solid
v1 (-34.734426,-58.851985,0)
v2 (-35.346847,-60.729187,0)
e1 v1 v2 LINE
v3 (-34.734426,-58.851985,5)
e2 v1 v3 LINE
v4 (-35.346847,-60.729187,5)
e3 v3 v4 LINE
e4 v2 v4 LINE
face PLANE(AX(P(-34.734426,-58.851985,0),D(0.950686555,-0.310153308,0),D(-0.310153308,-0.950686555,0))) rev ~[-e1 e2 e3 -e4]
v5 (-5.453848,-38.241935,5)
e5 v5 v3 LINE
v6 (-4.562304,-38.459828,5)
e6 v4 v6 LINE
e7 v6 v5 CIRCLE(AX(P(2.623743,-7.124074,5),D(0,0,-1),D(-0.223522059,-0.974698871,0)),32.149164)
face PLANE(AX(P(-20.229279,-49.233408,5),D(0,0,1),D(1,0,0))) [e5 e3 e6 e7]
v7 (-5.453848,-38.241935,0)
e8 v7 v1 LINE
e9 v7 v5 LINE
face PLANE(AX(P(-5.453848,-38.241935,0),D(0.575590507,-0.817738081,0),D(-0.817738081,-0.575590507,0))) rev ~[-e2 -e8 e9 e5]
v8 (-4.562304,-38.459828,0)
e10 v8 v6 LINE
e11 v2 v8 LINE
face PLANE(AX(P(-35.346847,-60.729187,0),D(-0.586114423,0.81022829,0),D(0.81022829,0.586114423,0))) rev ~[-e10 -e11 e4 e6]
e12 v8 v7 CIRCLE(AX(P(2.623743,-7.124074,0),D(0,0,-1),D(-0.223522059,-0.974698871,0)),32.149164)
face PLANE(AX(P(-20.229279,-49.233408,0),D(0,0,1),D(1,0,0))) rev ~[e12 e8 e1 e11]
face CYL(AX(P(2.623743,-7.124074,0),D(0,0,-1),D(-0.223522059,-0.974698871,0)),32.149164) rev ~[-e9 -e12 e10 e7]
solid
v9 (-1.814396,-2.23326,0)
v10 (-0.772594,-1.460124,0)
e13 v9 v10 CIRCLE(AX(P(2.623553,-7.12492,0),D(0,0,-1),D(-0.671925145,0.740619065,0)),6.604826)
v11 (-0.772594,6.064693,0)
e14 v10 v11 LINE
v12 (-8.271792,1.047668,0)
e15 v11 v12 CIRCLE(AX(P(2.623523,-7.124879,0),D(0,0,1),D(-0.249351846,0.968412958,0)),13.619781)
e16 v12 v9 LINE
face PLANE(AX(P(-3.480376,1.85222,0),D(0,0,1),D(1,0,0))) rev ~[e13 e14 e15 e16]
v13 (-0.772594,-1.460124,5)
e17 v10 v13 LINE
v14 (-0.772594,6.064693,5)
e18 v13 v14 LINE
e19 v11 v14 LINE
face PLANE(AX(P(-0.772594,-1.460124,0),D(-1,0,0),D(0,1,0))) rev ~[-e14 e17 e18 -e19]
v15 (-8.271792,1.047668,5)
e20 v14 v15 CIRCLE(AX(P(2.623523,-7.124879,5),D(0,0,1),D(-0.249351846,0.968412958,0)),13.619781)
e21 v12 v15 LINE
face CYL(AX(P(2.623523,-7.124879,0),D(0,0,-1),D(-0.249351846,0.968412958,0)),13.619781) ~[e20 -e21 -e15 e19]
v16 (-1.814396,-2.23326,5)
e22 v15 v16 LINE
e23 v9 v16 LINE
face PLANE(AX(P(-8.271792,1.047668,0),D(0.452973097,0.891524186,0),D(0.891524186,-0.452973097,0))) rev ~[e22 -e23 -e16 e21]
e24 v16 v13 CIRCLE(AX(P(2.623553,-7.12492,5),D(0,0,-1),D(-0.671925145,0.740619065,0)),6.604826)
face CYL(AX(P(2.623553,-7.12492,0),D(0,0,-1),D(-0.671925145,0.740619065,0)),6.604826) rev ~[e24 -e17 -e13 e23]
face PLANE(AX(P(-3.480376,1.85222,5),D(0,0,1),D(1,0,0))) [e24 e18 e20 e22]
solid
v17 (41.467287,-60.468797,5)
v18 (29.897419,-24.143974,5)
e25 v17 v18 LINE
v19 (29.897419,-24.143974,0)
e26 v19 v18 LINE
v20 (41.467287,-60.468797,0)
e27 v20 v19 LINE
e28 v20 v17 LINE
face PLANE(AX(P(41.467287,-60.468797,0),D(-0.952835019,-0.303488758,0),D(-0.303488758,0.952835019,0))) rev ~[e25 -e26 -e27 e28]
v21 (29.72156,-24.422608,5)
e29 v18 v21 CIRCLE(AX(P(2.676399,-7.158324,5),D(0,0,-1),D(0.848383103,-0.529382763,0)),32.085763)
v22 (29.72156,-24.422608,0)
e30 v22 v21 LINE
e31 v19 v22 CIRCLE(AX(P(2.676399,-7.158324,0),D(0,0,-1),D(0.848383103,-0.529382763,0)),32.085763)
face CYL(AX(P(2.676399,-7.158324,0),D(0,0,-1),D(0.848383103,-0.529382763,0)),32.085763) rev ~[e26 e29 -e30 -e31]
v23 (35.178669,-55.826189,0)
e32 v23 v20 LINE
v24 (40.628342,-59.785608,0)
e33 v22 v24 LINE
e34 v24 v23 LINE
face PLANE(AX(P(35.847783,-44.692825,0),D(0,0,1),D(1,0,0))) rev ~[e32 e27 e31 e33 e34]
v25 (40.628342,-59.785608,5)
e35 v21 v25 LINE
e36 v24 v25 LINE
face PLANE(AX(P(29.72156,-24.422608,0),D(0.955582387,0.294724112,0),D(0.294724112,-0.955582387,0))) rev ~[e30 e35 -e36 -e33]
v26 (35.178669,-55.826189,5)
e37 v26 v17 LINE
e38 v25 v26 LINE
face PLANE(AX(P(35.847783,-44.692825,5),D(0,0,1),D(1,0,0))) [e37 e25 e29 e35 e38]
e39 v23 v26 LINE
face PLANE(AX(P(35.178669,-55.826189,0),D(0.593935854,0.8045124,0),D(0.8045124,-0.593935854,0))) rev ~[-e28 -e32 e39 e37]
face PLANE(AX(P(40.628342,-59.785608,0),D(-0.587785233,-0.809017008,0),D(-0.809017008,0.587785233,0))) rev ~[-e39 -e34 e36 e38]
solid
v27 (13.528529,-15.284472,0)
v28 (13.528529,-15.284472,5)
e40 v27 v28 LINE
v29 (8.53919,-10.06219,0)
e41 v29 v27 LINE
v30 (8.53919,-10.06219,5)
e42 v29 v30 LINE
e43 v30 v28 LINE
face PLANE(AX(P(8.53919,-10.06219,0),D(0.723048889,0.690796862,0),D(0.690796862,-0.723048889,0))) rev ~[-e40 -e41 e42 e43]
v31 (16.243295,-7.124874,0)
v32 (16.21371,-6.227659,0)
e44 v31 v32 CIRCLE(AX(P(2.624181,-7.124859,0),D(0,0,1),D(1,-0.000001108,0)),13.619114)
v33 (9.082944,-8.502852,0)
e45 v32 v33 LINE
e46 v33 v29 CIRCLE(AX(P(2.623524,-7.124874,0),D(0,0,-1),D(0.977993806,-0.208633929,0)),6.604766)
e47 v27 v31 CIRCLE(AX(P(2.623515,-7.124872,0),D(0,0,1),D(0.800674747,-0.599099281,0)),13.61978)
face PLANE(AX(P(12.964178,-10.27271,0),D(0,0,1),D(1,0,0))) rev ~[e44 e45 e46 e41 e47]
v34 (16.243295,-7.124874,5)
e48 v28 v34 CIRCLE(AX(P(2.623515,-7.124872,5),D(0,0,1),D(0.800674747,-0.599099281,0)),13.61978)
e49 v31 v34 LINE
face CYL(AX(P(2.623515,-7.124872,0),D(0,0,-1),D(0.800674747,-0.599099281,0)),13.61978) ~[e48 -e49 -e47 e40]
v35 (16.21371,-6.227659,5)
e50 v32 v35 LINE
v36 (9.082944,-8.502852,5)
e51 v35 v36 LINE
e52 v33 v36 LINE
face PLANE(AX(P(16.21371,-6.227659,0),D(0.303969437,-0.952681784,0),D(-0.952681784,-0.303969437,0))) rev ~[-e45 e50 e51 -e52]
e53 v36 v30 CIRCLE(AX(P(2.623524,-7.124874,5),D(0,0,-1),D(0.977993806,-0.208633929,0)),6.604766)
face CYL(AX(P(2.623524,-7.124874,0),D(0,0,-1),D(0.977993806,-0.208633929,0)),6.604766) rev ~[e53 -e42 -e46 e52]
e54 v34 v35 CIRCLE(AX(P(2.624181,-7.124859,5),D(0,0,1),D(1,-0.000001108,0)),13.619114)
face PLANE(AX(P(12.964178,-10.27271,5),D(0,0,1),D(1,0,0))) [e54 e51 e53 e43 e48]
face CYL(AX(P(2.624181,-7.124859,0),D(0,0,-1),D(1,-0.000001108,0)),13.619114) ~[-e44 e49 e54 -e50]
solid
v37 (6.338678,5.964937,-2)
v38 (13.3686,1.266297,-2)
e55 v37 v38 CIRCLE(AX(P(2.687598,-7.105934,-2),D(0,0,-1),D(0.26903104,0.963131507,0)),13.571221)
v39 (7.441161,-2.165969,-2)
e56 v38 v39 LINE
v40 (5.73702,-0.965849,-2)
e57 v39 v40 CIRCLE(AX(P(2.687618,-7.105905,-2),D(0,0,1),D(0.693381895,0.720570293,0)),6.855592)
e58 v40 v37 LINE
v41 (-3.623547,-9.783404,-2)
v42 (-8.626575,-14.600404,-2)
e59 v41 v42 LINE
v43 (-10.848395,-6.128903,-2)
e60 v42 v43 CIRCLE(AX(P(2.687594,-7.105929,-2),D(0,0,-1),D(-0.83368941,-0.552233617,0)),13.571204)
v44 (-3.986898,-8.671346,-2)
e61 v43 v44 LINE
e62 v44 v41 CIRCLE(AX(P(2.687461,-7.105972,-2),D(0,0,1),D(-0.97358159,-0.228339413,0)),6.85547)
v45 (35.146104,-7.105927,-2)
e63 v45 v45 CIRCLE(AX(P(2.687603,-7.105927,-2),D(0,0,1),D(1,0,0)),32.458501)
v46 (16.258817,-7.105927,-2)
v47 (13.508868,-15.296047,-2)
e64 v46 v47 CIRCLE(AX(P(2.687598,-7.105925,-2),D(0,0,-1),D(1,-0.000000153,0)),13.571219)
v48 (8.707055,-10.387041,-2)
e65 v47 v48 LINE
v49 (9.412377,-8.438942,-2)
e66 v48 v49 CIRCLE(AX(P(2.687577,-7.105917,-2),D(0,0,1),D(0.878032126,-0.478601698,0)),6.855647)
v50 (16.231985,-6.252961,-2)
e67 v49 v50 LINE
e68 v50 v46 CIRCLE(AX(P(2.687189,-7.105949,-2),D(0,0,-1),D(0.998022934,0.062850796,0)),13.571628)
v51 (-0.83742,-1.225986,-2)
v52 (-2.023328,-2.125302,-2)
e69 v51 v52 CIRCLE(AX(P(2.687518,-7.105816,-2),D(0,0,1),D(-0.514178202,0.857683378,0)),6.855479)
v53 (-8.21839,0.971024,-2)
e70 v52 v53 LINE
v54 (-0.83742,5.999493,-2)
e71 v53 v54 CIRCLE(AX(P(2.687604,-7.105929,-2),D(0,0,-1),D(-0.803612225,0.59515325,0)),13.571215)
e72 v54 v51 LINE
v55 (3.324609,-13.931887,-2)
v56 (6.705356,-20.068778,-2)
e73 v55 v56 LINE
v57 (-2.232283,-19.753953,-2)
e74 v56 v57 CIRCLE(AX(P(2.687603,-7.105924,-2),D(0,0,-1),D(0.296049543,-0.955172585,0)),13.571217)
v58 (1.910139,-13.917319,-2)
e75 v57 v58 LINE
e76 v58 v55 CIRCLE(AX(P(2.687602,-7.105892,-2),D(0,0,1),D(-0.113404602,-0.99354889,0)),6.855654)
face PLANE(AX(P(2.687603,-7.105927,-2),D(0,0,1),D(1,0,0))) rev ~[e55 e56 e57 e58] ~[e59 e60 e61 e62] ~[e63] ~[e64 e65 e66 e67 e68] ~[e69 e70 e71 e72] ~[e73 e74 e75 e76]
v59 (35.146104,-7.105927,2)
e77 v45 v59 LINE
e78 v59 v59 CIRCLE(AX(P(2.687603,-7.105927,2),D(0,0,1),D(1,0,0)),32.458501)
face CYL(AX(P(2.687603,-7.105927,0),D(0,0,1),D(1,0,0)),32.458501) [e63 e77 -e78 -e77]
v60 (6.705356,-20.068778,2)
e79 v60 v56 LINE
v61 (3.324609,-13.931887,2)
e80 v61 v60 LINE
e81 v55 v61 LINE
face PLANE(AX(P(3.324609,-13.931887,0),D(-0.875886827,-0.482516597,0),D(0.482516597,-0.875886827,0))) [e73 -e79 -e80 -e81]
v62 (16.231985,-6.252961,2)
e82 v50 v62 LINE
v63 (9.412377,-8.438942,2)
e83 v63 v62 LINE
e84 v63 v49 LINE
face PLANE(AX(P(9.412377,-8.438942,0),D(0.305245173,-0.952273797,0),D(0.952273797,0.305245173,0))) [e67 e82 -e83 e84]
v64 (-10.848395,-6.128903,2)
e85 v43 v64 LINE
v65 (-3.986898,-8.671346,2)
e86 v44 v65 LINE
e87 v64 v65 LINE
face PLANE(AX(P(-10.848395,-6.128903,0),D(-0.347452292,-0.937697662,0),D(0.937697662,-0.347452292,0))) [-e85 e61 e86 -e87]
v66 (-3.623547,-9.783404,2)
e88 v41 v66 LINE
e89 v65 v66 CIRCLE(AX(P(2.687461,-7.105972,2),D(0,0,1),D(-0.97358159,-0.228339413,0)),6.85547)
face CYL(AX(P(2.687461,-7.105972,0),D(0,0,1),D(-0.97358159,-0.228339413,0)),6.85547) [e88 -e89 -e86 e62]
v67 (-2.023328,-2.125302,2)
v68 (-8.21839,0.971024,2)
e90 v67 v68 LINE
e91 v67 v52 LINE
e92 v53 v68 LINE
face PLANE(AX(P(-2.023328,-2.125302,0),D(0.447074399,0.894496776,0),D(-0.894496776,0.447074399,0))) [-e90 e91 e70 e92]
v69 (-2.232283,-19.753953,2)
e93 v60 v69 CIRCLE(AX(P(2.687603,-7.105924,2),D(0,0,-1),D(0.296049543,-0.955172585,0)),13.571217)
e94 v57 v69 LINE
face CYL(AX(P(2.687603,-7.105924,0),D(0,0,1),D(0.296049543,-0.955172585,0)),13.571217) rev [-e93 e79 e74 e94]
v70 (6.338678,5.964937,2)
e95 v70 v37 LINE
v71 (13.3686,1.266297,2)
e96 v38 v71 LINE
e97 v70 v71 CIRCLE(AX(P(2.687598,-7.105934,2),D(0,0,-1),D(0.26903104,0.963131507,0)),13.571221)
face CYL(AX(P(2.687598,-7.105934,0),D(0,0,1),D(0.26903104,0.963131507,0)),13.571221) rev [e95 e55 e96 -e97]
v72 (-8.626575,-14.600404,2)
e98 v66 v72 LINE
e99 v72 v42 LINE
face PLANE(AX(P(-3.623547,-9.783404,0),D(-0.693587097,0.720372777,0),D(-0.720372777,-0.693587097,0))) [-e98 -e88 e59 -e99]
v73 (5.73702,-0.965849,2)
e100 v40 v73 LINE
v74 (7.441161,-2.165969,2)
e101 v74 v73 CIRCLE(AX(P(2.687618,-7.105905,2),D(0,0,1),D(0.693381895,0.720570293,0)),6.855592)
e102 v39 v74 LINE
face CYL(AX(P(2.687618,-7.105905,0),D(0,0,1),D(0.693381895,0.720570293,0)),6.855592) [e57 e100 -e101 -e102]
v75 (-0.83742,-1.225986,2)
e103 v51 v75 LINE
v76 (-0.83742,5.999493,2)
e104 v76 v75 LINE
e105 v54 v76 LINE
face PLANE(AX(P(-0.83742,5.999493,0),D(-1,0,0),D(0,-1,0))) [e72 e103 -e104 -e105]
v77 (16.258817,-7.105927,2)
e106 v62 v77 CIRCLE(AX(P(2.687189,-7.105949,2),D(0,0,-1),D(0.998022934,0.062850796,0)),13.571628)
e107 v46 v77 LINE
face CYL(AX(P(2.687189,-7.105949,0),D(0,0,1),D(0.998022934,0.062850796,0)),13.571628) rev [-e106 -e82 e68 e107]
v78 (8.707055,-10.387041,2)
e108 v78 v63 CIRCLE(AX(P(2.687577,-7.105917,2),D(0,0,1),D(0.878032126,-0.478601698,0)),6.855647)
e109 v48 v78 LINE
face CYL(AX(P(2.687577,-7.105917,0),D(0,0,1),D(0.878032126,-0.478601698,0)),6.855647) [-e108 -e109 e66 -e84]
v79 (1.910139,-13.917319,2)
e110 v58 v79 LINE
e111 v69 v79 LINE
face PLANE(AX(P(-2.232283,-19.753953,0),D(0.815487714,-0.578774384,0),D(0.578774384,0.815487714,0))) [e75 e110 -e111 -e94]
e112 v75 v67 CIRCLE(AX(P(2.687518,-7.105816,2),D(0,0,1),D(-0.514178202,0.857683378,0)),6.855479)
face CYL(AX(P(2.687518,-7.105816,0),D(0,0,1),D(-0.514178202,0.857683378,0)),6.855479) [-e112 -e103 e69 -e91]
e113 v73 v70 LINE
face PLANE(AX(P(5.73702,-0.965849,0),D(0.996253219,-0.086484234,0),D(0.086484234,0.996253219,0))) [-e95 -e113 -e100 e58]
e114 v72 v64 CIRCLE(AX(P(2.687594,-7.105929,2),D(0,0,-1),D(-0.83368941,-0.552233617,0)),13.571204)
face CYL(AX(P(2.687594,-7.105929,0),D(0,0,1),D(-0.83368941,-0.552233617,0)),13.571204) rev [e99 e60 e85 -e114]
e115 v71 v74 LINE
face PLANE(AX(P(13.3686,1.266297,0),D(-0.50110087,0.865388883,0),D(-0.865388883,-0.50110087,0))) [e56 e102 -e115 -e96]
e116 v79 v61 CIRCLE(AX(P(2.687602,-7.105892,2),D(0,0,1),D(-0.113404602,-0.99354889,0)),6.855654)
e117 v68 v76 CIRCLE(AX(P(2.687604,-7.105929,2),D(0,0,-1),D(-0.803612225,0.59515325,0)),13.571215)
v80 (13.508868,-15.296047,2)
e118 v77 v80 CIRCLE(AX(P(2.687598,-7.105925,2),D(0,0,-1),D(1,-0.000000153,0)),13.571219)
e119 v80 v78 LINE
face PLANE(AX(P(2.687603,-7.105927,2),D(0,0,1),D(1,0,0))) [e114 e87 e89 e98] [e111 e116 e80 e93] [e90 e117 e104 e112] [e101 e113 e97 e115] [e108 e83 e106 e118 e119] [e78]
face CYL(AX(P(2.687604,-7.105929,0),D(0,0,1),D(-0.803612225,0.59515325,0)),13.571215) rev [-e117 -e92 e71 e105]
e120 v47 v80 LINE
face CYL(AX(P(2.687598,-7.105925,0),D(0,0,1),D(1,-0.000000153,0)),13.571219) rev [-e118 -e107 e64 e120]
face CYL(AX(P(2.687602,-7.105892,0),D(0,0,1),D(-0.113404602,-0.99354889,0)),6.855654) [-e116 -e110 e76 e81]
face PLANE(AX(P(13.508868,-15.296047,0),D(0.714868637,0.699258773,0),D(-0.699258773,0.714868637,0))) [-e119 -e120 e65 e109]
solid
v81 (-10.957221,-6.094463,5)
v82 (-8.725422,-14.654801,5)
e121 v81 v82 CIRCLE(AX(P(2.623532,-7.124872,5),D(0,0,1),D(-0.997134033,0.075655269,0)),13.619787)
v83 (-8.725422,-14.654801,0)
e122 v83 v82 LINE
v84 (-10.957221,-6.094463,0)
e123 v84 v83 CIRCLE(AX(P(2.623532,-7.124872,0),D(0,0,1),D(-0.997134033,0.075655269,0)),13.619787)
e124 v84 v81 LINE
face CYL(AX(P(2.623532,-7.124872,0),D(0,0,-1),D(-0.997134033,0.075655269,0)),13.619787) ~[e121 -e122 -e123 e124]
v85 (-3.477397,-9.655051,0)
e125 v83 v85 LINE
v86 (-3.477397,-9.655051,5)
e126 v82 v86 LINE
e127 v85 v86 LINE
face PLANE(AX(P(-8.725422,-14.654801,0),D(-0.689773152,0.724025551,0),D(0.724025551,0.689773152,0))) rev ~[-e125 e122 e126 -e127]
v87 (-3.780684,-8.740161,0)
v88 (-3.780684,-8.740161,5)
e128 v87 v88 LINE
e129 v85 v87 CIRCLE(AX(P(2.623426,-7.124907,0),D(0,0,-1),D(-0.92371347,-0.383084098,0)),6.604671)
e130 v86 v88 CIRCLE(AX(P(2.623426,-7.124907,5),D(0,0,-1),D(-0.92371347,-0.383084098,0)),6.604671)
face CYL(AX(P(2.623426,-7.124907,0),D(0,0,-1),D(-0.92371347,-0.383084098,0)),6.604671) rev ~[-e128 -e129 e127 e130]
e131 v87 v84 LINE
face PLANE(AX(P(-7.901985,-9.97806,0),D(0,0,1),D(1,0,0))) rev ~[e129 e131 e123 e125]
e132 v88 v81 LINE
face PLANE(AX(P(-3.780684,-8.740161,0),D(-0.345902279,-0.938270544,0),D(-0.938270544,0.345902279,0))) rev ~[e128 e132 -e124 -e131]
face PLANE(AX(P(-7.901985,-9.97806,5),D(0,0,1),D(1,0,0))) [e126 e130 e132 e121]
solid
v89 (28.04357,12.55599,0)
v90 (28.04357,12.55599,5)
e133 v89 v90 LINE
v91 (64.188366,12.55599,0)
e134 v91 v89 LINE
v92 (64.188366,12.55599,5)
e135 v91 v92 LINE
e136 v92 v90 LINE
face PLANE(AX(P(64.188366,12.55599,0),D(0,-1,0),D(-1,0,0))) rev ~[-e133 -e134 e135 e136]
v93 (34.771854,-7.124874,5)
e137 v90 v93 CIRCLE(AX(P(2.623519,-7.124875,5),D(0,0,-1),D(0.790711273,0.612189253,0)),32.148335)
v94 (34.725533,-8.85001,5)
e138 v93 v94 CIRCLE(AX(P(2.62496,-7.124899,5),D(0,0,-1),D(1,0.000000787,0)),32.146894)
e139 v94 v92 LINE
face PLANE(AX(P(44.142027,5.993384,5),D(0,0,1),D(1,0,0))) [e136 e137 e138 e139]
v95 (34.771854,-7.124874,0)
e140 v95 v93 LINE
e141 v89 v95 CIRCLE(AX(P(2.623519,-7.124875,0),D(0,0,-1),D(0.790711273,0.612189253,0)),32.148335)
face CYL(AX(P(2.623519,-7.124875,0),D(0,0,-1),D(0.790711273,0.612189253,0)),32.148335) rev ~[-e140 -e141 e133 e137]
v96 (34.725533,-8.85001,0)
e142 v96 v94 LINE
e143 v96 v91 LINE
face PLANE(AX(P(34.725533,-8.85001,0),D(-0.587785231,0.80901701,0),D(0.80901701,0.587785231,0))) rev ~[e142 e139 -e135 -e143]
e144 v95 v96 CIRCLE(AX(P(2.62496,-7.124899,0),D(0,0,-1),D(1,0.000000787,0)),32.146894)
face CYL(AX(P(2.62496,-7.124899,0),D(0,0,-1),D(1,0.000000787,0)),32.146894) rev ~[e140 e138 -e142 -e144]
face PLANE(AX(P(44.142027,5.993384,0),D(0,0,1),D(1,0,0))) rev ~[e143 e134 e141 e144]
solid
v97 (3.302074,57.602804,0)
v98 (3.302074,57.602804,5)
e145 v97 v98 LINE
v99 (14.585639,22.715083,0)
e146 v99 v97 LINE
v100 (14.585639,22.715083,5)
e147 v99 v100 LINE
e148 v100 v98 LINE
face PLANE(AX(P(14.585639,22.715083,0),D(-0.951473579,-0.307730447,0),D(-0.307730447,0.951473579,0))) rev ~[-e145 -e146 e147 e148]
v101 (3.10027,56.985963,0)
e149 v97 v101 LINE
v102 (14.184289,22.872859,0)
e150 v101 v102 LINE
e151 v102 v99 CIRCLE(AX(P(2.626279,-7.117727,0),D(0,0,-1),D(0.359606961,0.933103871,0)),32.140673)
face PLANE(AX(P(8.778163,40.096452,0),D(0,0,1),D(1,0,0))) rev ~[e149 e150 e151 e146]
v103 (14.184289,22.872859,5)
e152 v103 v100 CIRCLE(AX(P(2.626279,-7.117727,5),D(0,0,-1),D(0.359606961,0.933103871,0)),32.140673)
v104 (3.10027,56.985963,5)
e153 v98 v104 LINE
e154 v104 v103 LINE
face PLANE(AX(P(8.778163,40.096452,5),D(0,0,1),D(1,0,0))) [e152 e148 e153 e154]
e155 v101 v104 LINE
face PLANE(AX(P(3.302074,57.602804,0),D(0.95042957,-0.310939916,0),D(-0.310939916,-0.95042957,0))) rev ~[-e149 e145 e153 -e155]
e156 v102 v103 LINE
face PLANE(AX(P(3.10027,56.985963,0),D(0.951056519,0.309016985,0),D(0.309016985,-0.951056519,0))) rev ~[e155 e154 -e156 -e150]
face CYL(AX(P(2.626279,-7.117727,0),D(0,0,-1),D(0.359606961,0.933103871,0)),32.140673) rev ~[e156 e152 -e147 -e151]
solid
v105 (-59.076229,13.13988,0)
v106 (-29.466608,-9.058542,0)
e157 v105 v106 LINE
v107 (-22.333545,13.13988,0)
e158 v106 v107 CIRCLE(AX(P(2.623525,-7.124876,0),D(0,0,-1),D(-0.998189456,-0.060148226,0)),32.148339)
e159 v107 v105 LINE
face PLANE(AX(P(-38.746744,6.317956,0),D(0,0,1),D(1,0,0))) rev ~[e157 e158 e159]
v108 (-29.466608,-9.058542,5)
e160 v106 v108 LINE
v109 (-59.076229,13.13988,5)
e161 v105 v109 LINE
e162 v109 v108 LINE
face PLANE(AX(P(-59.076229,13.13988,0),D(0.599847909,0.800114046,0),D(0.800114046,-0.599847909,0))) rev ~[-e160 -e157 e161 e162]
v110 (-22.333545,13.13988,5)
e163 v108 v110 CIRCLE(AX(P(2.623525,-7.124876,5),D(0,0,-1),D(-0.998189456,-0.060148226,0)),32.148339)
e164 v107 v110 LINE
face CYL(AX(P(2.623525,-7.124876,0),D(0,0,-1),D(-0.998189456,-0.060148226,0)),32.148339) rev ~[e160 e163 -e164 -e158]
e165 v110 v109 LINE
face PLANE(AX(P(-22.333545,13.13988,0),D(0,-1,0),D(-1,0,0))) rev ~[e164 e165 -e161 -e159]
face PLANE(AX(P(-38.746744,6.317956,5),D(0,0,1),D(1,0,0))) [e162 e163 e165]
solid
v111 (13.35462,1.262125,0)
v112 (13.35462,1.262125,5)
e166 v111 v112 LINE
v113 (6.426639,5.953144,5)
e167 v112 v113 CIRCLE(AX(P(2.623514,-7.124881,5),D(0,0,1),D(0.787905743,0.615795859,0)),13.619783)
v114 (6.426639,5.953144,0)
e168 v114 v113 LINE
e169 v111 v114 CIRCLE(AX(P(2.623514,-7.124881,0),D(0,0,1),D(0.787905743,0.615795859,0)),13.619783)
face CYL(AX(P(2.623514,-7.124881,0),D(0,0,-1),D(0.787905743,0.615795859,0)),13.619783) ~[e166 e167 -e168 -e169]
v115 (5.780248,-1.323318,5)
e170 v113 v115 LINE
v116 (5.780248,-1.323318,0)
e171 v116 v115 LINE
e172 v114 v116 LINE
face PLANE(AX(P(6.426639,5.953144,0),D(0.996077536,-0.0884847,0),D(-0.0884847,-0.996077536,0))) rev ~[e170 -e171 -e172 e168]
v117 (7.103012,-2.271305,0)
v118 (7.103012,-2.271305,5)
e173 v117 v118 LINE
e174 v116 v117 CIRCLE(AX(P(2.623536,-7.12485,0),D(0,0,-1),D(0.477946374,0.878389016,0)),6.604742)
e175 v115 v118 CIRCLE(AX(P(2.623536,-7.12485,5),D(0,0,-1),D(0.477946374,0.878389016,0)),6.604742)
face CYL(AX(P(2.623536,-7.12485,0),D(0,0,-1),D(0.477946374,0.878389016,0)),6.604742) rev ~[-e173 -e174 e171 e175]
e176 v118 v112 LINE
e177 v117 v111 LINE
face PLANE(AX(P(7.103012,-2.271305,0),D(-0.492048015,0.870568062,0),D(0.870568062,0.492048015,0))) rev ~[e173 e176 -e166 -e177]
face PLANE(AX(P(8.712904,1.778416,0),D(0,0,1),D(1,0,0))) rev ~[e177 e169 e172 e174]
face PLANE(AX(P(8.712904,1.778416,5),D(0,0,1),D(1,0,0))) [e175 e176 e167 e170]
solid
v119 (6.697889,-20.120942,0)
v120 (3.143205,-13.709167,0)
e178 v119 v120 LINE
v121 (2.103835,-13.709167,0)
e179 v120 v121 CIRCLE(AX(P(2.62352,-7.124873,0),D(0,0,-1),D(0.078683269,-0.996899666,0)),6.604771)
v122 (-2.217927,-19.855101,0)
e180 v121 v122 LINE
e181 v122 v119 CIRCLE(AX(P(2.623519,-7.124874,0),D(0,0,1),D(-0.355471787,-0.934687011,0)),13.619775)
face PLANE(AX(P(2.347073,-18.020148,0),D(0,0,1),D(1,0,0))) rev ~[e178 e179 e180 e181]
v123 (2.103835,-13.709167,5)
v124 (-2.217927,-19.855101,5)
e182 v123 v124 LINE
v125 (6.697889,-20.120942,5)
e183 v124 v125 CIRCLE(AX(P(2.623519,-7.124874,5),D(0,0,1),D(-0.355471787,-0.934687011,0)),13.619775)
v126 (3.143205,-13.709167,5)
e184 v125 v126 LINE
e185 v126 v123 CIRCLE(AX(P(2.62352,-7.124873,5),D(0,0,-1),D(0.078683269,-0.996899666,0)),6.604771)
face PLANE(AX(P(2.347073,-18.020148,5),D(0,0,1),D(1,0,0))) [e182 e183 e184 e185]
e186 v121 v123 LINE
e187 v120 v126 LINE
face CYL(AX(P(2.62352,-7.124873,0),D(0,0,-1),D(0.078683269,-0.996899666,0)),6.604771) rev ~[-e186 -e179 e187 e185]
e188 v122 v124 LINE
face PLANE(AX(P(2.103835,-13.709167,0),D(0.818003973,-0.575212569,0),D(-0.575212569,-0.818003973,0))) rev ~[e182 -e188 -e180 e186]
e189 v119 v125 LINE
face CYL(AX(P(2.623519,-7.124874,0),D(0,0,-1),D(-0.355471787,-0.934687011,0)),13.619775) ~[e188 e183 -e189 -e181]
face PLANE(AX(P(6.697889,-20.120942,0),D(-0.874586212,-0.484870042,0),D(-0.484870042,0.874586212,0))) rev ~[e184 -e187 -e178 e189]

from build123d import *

# Parameters (mm, degrees)
F1_DEPTH = 5
F2_R     = 32.458501
F3_DEPTH = 2


with BuildPart() as f1:
    # F0 (on Top) → F1 (new body)
    with BuildSketch(Plane.XY):
        with BuildLine():
            Line((3.10027, 56.985963), (14.184289, 22.872859))
            ThreePointArc((14.184289, 22.872859), (14.385229, 22.794644), (14.585639, 22.715083))
            Line((14.585639, 22.715083), (3.302074, 57.602804))
            Line((3.302074, 57.602804), (3.10027, 56.985963))
        make_face()
        with BuildLine():
            Line((-22.333545, 13.13988), (-59.076229, 13.13988))
            Line((-59.076229, 13.13988), (-29.466608, -9.058542))
            ThreePointArc((-29.466608, -9.058542), (-27.983473, 2.710131), (-22.333545, 13.13988))
        make_face()
        with BuildLine():
            Line((64.188366, 12.55599), (28.04357, 12.55599))
            ThreePointArc((28.04357, 12.55599), (33.043313, 3.27472), (34.771854, -7.124874))
            ThreePointArc((34.771854, -7.124874), (34.760272, -7.987753), (34.725533, -8.85001))
            Line((34.725533, -8.85001), (64.188366, 12.55599))
        make_face()
        with BuildLine():
            ThreePointArc((-4.562304, -38.459828), (-5.008854, -38.354063), (-5.453848, -38.241935))
            Line((-5.453848, -38.241935), (-34.734426, -58.851985))
            Line((-34.734426, -58.851985), (-35.346847, -60.729187))
            Line((-35.346847, -60.729187), (-4.562304, -38.459828))
        make_face()
        with BuildLine():
            Line((40.628342, -59.785608), (35.178669, -55.826189))
            Line((35.178669, -55.826189), (41.467287, -60.468797))
            Line((41.467287, -60.468797), (29.897419, -24.143974))
            ThreePointArc((29.897419, -24.143974), (29.809847, -24.283517), (29.72156, -24.422608))
            Line((29.72156, -24.422608), (40.628342, -59.785608))
        make_face()
        with BuildLine():
            Line((7.103012, -2.271305), (13.35462, 1.262125))
            ThreePointArc((13.35462, 1.262125), (10.259769, 4.152801), (6.426639, 5.953144))
            Line((6.426639, 5.953144), (5.780248, -1.323318))
            ThreePointArc((5.780248, -1.323318), (6.470939, -1.756415), (7.103012, -2.271305))
        make_face()
        with BuildLine():
            Line((-0.772594, -1.460124), (-0.772594, 6.064693))
            ThreePointArc((-0.772594, 6.064693), (-4.949712, 4.195215), (-8.271792, 1.047668))
            Line((-8.271792, 1.047668), (-1.814396, -2.23326))
            ThreePointArc((-1.814396, -2.23326), (-1.312524, -1.821051), (-0.772594, -1.460124))
        make_face()
        with BuildLine():
            ThreePointArc((-10.957221, -6.094463), (-10.55571, -10.560883), (-8.725422, -14.654801))
            Line((-8.725422, -14.654801), (-3.477397, -9.655051))
            ThreePointArc((-3.477397, -9.655051), (-3.645752, -9.203146), (-3.780684, -8.740161))
            Line((-3.780684, -8.740161), (-10.957221, -6.094463))
        make_face()
        with BuildLine():
            ThreePointArc((-2.217927, -19.855101), (2.217602, -20.738599), (6.697889, -20.120942))
            Line((6.697889, -20.120942), (3.143205, -13.709167))
            ThreePointArc((3.143205, -13.709167), (2.62352, -13.729644), (2.103835, -13.709167))
            Line((2.103835, -13.709167), (-2.217927, -19.855101))
        make_face()
        with BuildLine():
            ThreePointArc((13.528529, -15.284472), (15.546794, -11.424554), (16.243295, -7.124874))
            ThreePointArc((16.243295, -7.124874), (16.235897, -6.676023), (16.21371, -6.227659))
            Line((16.21371, -6.227659), (9.082944, -8.502852))
            ThreePointArc((9.082944, -8.502852), (8.859995, -9.299583), (8.53919, -10.06219))
            Line((8.53919, -10.06219), (13.528529, -15.284472))
        make_face()
    extrude(amount=F1_DEPTH)


with BuildPart() as f3:
    # F2 (on Top) → F3 (new body, symmetric)
    with BuildSketch(Plane.XY):
        with Locations((2.687603, -7.105927)):
            Circle(F2_R)
        with BuildLine():
            ThreePointArc((6.338678, 5.964937), (10.228914, 4.177089), (13.3686, 1.266297))
            ThreePointArc((13.3686, 1.266297), (15.37035, -2.27625), (16.231985, -6.252961))
            ThreePointArc((16.231985, -6.252961), (16.252107, -6.679233), (16.258817, -7.105927))
            ThreePointArc((16.258817, -7.105927), (15.552974, -11.425657), (13.508868, -15.296047))
            ThreePointArc((13.508868, -15.296047), (10.481437, -18.216012), (6.705356, -20.068778))
            ThreePointArc((6.705356, -20.068778), (2.209859, -20.668729), (-2.232283, -19.753953))
            ThreePointArc((-2.232283, -19.753953), (-5.828615, -17.672471), (-8.626575, -14.600404))
            ThreePointArc((-8.626575, -14.600404), (-10.439636, -10.548807), (-10.848395, -6.128903))
            ThreePointArc((-10.848395, -6.128903), (-10.03855, -2.391815), (-8.21839, 0.971024))
            ThreePointArc((-8.21839, 0.971024), (-4.9534, 4.109816), (-0.83742, 5.999493))
            ThreePointArc((-0.83742, 5.999493), (2.752954, 6.465129), (6.338678, 5.964937))
        make_face(mode=Mode.SUBTRACT)
        with BuildLine():
            ThreePointArc((-3.986898, -8.671346), (-3.878955, -5.136204), (-2.023328, -2.125302))
            Line((-2.023328, -2.125302), (-8.21839, 0.971024))
            ThreePointArc((-8.21839, 0.971024), (-10.03855, -2.391815), (-10.848395, -6.128903))
            Line((-10.848395, -6.128903), (-3.986898, -8.671346))
        make_face()
        with BuildLine():
            ThreePointArc((-0.83742, -1.225986), (2.416553, -0.255669), (5.73702, -0.965849))
            Line((5.73702, -0.965849), (6.338678, 5.964937))
            ThreePointArc((6.338678, 5.964937), (2.752954, 6.465129), (-0.83742, 5.999493))
            Line((-0.83742, 5.999493), (-0.83742, -1.225986))
        make_face()
        with BuildLine():
            ThreePointArc((7.441161, -2.165969), (8.995855, -4.421628), (9.543222, -7.105927))
            ThreePointArc((9.543222, -7.105927), (9.510432, -7.775638), (9.412377, -8.438942))
            Line((9.412377, -8.438942), (16.231985, -6.252961))
            ThreePointArc((16.231985, -6.252961), (15.37035, -2.27625), (13.3686, 1.266297))
            Line((13.3686, 1.266297), (7.441161, -2.165969))
        make_face()
        with BuildLine():
            ThreePointArc((9.412377, -8.438942), (9.510432, -7.775638), (9.543222, -7.105927))
            ThreePointArc((9.543222, -7.105927), (8.995855, -4.421628), (7.441161, -2.165969))
            ThreePointArc((7.441161, -2.165969), (6.634966, -1.500766), (5.73702, -0.965849))
            ThreePointArc((5.73702, -0.965849), (2.416553, -0.255669), (-0.83742, -1.225986))
            ThreePointArc((-0.83742, -1.225986), (-1.454852, -1.643366), (-2.023328, -2.125302))
            ThreePointArc((-2.023328, -2.125302), (-3.878955, -5.136204), (-3.986898, -8.671346))
            ThreePointArc((-3.986898, -8.671346), (-3.828988, -9.23514), (-3.623547, -9.783404))
            ThreePointArc((-3.623547, -9.783404), (-1.415375, -12.598201), (1.910139, -13.917319))
            ThreePointArc((1.910139, -13.917319), (2.616997, -13.961182), (3.324609, -13.931887))
            ThreePointArc((3.324609, -13.931887), (6.458358, -12.831389), (8.707055, -10.387041))
            ThreePointArc((8.707055, -10.387041), (9.133733, -9.43979), (9.412377, -8.438942))
        make_face()
        with BuildLine():
            Line((13.508868, -15.296047), (8.707055, -10.387041))
            ThreePointArc((8.707055, -10.387041), (6.458358, -12.831389), (3.324609, -13.931887))
            Line((3.324609, -13.931887), (6.705356, -20.068778))
            ThreePointArc((6.705356, -20.068778), (10.481437, -18.216012), (13.508868, -15.296047))
        make_face()
        with BuildLine():
            Line((-2.232283, -19.753953), (1.910139, -13.917319))
            ThreePointArc((1.910139, -13.917319), (-1.415375, -12.598201), (-3.623547, -9.783404))
            Line((-3.623547, -9.783404), (-8.626575, -14.600404))
            ThreePointArc((-8.626575, -14.600404), (-5.828615, -17.672471), (-2.232283, -19.753953))
        make_face()
    extrude(amount=F3_DEPTH, both=True)


solid = Compound([f1.part, f3.part])
